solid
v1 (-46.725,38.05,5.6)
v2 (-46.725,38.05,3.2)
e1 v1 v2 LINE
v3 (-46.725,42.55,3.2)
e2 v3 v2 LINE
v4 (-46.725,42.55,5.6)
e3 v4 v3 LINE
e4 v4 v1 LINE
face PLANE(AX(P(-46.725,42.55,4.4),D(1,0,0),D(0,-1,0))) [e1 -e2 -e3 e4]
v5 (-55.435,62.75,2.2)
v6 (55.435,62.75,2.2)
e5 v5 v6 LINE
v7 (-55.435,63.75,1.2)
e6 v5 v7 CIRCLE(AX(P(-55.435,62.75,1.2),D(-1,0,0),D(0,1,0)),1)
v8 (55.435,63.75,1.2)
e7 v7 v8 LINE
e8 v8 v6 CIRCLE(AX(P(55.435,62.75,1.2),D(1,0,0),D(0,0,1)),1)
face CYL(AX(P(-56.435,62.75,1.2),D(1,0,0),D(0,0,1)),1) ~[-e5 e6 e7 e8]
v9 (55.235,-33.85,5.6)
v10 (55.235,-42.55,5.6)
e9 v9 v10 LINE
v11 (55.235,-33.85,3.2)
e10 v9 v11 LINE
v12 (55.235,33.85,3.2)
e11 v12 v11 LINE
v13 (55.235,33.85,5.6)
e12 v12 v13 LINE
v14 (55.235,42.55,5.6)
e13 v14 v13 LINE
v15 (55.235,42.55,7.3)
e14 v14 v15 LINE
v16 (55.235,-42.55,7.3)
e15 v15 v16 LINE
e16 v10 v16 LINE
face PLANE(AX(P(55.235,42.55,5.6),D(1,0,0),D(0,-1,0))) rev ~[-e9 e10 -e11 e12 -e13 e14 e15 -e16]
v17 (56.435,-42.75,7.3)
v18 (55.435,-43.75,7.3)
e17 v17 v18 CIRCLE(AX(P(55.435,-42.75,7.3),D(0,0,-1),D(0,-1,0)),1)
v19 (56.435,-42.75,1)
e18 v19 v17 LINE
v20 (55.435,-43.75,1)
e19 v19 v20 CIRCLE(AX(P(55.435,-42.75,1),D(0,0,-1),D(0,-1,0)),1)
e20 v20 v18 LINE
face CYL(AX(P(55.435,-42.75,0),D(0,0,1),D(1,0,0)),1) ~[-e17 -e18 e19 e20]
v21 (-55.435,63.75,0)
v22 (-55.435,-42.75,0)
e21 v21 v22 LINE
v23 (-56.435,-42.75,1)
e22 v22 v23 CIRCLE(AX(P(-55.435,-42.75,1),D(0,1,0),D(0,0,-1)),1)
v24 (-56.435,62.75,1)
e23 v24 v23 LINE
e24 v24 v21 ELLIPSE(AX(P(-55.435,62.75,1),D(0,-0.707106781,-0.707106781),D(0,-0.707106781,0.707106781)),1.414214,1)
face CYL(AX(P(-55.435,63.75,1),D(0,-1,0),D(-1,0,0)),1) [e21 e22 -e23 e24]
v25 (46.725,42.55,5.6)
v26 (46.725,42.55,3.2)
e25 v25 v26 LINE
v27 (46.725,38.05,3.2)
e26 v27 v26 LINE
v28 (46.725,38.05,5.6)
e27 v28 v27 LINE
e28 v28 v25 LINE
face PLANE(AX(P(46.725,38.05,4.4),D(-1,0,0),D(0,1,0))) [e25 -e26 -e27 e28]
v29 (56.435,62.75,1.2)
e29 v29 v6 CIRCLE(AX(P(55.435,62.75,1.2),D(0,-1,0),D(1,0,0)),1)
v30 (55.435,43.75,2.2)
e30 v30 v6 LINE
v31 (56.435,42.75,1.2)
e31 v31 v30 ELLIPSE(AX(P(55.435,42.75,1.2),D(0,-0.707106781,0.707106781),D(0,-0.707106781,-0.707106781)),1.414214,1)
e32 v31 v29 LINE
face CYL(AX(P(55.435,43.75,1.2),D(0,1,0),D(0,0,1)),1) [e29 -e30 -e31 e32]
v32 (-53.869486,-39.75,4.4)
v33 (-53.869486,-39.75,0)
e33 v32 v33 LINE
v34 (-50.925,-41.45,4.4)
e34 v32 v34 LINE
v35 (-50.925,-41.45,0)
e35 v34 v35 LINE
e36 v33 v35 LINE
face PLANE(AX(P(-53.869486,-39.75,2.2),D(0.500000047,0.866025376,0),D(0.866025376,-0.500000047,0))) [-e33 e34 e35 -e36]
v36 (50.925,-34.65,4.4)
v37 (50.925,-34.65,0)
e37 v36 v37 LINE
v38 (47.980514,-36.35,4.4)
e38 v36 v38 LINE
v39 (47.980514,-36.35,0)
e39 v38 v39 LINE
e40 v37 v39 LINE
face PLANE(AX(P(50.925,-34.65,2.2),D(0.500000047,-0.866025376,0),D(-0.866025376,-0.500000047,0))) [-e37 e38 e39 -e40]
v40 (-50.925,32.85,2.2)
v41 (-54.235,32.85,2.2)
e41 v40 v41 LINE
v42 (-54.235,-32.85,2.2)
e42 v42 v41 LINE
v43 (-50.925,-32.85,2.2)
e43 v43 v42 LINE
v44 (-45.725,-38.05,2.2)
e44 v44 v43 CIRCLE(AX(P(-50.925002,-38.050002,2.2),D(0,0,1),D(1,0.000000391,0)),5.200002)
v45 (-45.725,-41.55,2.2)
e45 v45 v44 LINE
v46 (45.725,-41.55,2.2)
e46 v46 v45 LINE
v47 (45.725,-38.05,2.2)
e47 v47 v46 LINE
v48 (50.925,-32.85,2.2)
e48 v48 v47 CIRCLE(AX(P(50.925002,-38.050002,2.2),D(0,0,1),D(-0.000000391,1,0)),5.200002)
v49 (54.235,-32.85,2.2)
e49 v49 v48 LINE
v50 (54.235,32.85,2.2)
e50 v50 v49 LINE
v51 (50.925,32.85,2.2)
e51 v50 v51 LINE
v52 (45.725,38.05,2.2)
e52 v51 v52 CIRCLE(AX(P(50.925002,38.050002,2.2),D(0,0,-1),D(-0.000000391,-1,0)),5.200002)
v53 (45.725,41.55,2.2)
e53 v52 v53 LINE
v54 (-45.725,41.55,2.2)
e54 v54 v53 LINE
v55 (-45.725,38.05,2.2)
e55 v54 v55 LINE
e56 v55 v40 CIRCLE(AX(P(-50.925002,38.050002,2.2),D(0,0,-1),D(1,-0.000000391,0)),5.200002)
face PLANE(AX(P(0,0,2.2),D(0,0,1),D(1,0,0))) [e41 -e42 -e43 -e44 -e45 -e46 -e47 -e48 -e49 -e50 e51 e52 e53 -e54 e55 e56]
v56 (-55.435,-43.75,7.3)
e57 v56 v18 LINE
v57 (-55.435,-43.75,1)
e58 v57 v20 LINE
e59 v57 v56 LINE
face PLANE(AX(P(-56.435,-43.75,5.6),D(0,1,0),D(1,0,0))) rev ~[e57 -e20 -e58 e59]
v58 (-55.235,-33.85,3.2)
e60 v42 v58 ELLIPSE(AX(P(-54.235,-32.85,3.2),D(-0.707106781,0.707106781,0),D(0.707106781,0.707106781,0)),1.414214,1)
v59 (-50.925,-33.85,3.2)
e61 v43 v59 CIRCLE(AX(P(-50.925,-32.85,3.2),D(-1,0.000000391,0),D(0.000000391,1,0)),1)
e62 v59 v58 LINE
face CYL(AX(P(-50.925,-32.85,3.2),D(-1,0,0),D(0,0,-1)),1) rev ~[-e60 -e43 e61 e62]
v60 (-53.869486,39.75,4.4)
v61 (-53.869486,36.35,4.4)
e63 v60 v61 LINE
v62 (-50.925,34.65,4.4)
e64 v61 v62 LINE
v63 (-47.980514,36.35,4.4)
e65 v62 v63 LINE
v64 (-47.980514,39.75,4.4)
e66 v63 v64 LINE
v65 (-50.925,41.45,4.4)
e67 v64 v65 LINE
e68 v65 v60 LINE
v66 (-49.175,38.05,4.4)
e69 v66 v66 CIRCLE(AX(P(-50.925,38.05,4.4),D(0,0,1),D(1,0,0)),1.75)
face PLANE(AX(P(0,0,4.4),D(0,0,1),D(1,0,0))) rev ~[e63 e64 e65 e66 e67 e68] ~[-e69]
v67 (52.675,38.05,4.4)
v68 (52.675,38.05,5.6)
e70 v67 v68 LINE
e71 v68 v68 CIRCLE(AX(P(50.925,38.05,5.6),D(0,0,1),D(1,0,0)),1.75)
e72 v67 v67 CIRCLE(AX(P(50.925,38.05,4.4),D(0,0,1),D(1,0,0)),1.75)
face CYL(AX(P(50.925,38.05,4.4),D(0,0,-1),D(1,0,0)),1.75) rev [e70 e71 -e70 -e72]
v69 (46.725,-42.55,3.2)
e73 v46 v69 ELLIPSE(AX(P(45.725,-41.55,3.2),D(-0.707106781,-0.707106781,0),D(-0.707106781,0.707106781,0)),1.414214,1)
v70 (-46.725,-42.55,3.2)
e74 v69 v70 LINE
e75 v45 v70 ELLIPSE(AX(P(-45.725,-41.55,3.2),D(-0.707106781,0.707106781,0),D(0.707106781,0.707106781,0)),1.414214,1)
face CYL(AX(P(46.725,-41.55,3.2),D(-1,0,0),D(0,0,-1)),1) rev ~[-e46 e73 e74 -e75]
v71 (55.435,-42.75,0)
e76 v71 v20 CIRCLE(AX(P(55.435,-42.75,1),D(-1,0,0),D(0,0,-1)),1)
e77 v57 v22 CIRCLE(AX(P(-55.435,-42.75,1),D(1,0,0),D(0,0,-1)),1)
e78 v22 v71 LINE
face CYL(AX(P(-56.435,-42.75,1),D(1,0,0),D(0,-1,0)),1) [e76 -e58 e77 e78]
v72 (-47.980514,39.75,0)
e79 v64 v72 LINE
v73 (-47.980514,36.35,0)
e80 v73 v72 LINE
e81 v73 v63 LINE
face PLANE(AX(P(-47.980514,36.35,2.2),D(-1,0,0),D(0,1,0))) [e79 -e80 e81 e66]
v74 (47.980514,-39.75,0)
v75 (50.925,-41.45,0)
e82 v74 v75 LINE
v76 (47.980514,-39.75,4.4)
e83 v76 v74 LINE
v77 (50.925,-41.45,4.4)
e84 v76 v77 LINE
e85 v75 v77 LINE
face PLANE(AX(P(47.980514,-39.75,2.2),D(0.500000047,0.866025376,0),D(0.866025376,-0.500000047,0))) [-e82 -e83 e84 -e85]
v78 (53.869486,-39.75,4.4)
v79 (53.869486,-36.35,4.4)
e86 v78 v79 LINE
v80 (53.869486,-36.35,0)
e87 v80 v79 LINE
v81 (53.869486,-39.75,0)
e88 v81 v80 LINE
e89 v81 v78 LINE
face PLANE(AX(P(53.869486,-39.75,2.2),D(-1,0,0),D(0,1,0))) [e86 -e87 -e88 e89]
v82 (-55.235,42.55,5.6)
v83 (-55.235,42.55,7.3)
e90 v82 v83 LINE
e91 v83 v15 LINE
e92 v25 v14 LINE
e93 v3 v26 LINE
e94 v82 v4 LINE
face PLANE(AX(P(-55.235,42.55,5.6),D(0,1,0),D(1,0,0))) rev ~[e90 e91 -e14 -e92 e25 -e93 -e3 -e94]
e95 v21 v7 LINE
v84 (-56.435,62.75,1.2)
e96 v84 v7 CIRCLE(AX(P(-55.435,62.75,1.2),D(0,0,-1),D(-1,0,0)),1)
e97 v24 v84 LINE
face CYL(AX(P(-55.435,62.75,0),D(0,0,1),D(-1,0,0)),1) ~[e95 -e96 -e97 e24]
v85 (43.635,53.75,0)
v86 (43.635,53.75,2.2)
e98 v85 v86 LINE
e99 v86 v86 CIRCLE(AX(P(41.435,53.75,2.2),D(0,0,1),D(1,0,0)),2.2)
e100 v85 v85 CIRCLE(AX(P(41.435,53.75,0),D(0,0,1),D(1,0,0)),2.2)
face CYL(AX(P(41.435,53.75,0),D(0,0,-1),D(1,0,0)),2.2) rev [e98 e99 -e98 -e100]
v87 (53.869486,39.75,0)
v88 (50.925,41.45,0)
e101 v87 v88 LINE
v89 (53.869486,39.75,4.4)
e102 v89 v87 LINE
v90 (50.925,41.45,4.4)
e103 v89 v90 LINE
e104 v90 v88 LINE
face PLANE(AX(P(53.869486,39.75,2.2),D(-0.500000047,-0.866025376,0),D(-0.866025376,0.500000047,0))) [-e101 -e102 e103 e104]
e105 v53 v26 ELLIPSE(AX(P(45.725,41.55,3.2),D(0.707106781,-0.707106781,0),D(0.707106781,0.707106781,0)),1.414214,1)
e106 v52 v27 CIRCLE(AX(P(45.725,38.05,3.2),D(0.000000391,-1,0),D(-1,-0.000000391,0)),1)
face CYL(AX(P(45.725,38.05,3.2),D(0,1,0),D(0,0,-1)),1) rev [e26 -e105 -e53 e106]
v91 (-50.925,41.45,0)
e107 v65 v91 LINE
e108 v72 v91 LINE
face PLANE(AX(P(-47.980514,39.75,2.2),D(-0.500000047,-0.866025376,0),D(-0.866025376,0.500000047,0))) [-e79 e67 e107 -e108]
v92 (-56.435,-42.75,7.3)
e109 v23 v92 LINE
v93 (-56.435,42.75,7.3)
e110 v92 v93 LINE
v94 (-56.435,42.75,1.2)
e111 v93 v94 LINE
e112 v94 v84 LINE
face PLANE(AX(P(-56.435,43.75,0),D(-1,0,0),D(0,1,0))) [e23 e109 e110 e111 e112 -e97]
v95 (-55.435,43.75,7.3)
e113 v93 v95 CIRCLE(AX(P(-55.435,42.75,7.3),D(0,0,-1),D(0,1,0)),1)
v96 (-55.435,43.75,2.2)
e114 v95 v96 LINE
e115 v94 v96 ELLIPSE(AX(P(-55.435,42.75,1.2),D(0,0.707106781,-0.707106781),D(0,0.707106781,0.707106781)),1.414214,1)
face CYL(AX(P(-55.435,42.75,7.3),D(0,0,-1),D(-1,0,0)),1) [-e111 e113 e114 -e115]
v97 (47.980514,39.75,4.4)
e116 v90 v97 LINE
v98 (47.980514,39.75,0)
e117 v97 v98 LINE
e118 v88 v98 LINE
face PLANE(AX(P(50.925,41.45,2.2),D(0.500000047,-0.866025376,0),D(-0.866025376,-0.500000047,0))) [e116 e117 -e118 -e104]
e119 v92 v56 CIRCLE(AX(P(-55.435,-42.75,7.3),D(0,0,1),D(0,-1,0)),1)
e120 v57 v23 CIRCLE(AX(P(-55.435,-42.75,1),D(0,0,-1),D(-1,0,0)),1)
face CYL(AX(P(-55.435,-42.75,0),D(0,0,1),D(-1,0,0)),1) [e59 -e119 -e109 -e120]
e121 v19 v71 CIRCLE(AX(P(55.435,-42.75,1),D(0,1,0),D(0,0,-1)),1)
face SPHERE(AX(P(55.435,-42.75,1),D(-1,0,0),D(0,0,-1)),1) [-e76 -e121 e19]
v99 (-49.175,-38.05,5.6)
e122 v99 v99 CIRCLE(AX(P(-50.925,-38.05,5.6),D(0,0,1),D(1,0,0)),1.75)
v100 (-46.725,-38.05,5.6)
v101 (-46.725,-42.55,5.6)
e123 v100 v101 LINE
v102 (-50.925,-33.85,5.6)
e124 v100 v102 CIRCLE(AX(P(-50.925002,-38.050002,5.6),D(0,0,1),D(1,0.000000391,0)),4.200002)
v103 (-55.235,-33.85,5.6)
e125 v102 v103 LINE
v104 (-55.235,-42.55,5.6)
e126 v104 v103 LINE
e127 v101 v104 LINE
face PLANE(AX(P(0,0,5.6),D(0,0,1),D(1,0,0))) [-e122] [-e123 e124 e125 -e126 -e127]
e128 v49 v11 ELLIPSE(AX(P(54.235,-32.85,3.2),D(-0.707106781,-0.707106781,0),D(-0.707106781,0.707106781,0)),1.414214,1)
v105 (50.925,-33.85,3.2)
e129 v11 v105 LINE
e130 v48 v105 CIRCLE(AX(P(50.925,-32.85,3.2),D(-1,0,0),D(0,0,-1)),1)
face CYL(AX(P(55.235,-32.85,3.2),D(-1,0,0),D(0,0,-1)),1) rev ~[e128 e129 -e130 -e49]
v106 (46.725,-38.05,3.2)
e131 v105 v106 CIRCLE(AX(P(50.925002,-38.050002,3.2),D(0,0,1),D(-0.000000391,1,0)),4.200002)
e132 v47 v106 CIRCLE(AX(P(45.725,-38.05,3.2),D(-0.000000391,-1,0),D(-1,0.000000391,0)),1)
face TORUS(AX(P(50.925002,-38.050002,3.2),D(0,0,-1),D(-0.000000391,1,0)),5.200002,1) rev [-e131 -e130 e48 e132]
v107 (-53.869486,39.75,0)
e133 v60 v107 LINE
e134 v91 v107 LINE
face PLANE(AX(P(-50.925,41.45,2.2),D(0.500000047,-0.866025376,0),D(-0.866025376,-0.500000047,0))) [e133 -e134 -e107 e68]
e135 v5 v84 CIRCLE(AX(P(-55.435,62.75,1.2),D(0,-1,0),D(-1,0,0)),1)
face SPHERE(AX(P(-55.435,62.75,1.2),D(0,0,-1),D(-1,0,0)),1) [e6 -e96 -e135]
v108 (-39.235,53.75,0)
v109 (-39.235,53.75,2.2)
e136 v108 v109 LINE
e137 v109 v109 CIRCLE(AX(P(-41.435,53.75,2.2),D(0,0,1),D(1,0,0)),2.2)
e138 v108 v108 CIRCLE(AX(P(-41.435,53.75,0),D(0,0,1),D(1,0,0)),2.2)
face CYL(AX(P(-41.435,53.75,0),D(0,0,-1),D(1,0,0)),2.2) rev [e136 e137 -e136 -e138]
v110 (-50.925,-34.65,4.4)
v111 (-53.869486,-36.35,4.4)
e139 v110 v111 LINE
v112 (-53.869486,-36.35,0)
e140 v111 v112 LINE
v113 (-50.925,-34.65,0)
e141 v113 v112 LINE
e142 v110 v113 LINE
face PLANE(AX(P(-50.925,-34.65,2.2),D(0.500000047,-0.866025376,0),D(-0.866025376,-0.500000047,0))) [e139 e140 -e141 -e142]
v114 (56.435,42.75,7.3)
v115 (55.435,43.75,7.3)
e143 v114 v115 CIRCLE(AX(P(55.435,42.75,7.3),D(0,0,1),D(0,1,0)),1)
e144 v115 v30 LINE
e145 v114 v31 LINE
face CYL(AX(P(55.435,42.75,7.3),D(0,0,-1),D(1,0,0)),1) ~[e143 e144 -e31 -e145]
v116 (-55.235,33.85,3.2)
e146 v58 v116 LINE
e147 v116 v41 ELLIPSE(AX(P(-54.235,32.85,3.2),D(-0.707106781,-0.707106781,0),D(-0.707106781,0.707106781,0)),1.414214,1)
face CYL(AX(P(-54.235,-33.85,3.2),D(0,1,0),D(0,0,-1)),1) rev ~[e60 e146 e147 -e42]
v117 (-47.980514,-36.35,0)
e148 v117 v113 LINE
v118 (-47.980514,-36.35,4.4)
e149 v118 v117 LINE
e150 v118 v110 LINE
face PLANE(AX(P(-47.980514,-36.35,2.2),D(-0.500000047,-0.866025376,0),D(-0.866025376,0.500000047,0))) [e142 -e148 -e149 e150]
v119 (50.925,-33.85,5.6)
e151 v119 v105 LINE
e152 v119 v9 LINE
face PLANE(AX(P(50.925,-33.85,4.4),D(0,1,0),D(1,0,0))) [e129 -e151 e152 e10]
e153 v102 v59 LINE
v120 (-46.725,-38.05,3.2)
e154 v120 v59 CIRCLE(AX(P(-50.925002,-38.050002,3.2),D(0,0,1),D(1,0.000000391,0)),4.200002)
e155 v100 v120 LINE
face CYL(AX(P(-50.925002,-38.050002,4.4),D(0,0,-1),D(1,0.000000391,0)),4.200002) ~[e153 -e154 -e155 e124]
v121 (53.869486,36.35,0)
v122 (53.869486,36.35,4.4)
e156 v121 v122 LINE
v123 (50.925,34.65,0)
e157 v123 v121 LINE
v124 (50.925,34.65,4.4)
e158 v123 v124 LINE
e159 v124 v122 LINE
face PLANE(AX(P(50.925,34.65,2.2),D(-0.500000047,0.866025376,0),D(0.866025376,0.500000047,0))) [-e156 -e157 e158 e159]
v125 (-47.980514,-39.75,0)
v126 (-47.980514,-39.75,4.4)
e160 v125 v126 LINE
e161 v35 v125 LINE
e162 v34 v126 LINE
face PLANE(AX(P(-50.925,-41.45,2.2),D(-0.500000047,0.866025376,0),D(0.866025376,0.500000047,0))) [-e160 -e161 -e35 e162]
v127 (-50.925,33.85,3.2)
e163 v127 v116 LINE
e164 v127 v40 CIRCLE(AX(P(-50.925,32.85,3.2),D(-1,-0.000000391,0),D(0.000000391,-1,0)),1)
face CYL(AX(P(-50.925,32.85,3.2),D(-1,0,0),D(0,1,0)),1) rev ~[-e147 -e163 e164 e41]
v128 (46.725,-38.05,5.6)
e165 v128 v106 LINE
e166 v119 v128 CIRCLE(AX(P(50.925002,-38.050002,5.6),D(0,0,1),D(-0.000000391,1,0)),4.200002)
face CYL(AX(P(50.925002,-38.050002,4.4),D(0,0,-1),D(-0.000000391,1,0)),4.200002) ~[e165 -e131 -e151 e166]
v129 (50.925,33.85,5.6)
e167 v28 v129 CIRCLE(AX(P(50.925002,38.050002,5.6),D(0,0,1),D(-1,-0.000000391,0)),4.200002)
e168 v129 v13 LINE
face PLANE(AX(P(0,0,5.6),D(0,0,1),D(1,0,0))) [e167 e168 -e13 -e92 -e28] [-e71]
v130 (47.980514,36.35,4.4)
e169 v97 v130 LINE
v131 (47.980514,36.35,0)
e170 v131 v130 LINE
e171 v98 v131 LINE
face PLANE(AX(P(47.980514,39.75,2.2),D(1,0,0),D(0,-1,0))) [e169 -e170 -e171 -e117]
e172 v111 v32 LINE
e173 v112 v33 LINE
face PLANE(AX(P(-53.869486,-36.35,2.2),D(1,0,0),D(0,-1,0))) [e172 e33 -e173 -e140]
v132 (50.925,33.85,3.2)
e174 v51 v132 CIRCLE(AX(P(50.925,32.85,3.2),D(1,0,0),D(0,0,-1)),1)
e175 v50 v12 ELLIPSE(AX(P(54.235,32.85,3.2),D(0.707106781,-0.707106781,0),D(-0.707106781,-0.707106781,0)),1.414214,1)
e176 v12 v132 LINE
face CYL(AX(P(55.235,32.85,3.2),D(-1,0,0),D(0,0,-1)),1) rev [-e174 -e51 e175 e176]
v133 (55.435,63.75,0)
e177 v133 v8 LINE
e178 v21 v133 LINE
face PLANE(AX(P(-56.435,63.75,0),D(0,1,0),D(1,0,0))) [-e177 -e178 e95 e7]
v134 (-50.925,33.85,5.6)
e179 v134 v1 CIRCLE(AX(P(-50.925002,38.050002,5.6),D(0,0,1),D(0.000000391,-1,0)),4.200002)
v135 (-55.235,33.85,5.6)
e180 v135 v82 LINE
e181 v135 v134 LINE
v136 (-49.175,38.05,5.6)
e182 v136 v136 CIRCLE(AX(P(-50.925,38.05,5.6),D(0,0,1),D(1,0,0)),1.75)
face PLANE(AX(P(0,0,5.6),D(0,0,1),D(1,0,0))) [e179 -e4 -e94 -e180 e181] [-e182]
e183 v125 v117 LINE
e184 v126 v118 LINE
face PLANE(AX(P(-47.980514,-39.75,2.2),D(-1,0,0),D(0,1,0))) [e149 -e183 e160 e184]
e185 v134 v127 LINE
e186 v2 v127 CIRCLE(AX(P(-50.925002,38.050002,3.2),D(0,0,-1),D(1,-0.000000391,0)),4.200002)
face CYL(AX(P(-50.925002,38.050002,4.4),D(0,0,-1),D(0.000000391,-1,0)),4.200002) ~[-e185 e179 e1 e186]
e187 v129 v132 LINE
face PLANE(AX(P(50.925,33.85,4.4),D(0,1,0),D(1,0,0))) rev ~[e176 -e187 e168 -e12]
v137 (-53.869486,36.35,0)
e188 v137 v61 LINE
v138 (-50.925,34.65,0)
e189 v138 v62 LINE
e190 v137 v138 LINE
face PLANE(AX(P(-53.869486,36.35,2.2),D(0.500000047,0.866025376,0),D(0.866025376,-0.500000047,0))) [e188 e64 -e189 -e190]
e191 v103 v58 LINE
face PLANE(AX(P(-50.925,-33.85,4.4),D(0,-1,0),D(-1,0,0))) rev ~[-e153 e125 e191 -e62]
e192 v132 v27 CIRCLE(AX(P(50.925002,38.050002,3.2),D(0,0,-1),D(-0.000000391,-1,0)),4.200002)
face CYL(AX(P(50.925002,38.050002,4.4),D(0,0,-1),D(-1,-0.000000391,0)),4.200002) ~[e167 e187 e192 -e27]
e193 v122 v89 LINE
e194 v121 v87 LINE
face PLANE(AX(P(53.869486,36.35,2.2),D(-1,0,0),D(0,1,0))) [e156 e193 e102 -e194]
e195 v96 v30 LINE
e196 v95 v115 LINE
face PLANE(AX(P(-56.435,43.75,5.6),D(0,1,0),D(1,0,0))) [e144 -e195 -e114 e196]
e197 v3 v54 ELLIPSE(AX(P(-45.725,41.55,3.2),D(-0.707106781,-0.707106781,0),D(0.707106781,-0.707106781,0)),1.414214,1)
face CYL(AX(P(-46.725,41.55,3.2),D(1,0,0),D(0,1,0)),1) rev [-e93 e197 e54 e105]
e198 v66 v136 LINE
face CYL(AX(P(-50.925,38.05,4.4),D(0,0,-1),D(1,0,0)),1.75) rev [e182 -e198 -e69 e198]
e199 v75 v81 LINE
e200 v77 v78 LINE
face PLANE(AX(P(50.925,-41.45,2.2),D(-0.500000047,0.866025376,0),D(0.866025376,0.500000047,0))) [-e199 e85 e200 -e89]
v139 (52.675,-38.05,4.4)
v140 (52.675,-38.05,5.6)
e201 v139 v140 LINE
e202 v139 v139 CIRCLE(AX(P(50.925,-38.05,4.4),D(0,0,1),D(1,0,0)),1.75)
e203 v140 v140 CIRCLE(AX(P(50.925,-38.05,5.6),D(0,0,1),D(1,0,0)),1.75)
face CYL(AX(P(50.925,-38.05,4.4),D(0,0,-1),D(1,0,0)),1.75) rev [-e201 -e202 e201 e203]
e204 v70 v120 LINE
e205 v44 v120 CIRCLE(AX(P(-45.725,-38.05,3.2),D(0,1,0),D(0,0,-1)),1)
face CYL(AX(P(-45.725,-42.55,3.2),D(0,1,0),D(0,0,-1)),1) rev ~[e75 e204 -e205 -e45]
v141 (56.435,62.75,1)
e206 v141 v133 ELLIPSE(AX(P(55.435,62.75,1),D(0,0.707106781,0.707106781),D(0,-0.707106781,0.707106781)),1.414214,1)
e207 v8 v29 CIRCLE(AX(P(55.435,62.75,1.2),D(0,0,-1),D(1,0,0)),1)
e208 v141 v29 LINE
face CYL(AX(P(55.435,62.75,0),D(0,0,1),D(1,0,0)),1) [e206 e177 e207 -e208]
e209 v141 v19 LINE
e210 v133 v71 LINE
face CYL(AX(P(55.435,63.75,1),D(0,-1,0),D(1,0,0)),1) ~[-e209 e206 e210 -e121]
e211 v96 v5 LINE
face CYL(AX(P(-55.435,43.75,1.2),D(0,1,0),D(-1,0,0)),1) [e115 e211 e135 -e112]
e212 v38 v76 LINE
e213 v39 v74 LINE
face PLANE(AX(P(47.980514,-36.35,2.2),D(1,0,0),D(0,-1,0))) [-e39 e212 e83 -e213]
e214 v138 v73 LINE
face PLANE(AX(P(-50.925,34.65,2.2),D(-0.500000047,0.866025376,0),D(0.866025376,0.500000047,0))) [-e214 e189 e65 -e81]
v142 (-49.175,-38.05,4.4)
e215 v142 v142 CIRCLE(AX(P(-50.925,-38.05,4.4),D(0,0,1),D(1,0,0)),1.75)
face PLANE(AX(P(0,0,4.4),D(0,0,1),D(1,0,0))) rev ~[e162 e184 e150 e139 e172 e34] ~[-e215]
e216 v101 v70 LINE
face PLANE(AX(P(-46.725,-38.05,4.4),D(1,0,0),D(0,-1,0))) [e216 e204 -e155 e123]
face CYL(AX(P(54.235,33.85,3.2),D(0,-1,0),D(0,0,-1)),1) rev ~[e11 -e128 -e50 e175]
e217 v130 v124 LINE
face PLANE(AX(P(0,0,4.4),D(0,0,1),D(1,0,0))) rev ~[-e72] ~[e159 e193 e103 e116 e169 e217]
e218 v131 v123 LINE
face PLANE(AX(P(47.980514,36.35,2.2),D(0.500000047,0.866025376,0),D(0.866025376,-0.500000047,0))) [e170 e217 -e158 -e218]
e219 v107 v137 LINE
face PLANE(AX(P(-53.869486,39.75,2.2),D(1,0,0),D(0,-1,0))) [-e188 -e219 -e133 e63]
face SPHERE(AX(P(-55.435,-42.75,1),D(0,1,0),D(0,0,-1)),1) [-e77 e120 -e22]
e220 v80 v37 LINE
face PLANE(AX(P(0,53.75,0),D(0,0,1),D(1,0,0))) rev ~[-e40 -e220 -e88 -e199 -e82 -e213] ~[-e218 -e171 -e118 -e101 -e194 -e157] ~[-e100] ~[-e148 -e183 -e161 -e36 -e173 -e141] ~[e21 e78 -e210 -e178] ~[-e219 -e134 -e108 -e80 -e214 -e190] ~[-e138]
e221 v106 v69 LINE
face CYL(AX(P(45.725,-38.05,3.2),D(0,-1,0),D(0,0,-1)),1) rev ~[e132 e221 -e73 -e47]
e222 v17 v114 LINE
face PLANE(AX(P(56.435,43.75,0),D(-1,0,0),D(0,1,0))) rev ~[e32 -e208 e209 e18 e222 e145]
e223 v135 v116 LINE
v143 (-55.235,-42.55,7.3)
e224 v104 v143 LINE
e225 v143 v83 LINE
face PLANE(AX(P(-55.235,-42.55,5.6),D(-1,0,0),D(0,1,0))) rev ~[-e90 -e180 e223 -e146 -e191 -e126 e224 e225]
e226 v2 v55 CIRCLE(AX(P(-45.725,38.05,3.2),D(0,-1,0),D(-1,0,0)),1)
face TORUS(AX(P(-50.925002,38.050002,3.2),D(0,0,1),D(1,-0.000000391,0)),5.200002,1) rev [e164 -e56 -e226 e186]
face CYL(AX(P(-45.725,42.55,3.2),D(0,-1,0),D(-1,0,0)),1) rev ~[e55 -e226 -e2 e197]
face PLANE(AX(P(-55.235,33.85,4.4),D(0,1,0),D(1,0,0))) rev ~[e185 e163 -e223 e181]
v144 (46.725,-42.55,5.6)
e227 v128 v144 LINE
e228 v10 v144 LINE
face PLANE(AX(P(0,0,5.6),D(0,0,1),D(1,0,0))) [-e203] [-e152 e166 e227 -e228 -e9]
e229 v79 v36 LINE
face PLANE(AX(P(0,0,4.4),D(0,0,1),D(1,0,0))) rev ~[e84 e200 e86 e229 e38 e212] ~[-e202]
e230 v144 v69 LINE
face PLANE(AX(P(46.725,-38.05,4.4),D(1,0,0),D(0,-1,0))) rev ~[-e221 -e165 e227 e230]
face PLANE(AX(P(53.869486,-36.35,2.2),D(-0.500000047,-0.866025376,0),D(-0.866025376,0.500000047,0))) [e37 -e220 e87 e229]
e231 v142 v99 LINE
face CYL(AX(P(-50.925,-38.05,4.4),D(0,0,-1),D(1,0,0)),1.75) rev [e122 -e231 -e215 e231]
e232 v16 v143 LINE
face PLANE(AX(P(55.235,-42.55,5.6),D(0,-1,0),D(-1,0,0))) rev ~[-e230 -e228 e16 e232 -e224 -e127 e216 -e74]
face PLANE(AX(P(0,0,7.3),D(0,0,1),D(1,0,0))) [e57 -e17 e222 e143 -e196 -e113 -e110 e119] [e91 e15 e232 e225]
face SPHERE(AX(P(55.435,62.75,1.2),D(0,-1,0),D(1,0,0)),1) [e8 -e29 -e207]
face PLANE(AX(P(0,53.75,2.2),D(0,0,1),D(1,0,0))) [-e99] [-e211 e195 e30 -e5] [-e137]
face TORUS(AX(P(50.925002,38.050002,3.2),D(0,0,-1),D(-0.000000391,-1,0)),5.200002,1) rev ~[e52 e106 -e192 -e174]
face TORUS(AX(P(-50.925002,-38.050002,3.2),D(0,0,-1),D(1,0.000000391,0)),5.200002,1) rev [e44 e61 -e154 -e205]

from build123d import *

# Parameters (mm, degrees)
SKETCH005_W  = 112.87
SKETCH005_H  = 87.5
PAD_DEPTH    = 2.2
SKETCH006_W  = 112.87
SKETCH006_H  = 87.5
PAD001_DEPTH = 2.2
SKETCH007_W  = 112.87
SKETCH007_H  = 87.5
SKETCH007_R  = 1.75
PAD002_DEPTH = 1.2
SKETCH008_W  = 112.87
SKETCH008_H  = 87.5
PAD003_DEPTH = 1.7
SKETCH010_W  = 112.87
SKETCH010_H  = 20
SKETCH010_R  = 2.2
PAD004_DEPTH = 2.2
FILLET_R     = 1


with BuildPart() as part:
    # Sketch005 → Pad (new body)
    with BuildSketch(Plane.XY):
        Rectangle(SKETCH005_W, SKETCH005_H)
        Polygon((-47.980514, 36.35), (-47.980514, 39.75), (-50.925, 41.45), (-53.869486, 39.75), (-53.869486, 36.35), (-50.925, 34.65), align=None, mode=Mode.SUBTRACT)
        Polygon((53.869486, 36.35), (53.869486, 39.75), (50.925, 41.45), (47.980514, 39.75), (47.980514, 36.35), (50.925, 34.65), align=None, mode=Mode.SUBTRACT)
        Polygon((53.869486, -36.35), (50.925, -34.65), (47.980514, -36.35), (47.980514, -39.75), (50.925, -41.45), (53.869486, -39.75), align=None, mode=Mode.SUBTRACT)
        Polygon((-47.980514, -39.75), (-47.980514, -36.35), (-50.925, -34.65), (-53.869486, -36.35), (-53.869486, -39.75), (-50.925, -41.45), align=None, mode=Mode.SUBTRACT)
    extrude(amount=PAD_DEPTH)

    # Sketch006 → Pad001 (join)
    with BuildSketch(Plane.XY.offset(2.2)):
        Rectangle(SKETCH006_W, SKETCH006_H)
        with BuildLine():
            Line((55.235, 33.85), (55.235, -33.85))
            Line((50.925, -33.85), (55.235, -33.85))
            ThreePointArc((50.925, -33.85), (47.955152, -35.080152), (46.725, -38.05))
            Line((46.725, -38.05), (46.725, -42.55))
            Line((46.725, -42.55), (-46.725, -42.55))
            Line((-46.725, -38.05), (-46.725, -42.55))
            ThreePointArc((-46.725, -38.05), (-47.955152, -35.080152), (-50.925, -33.85))
            Line((-50.925, -33.85), (-55.235, -33.85))
            Line((-55.235, -33.85), (-55.235, 33.85))
            Line((-55.235, 33.85), (-50.925, 33.85))
            ThreePointArc((-50.925, 33.85), (-47.955152, 35.080152), (-46.725, 38.05))
            Line((-46.725, 42.55), (-46.725, 38.05))
            Line((-46.725, 42.55), (46.725, 42.55))
            Line((46.725, 38.05), (46.725, 42.55))
            ThreePointArc((46.725, 38.05), (47.955152, 35.080152), (50.925, 33.85))
            Line((50.925, 33.85), (55.235, 33.85))
        make_face(mode=Mode.SUBTRACT)
        Polygon((-47.980514, 36.35), (-47.980514, 39.75), (-50.925, 41.45), (-53.869486, 39.75), (-53.869486, 36.35), (-50.925, 34.65), align=None, mode=Mode.SUBTRACT)
        Polygon((53.869486, 36.35), (53.869486, 39.75), (50.925, 41.45), (47.980514, 39.75), (47.980514, 36.35), (50.925, 34.65), align=None, mode=Mode.SUBTRACT)
        Polygon((53.869486, -36.35), (50.925, -34.65), (47.980514, -36.35), (47.980514, -39.75), (50.925, -41.45), (53.869486, -39.75), align=None, mode=Mode.SUBTRACT)
        Polygon((-47.980514, -39.75), (-47.980514, -36.35), (-50.925, -34.65), (-53.869486, -36.35), (-53.869486, -39.75), (-50.925, -41.45), align=None, mode=Mode.SUBTRACT)
    extrude(amount=PAD001_DEPTH)

    # Sketch007 → Pad002 (join)
    with BuildSketch(Plane.XY.offset(4.4)):
        Rectangle(SKETCH007_W, SKETCH007_H)
        with Locations((-50.925, 38.05)):
            Circle(SKETCH007_R, mode=Mode.SUBTRACT)
        with Locations((50.925, 38.05)):
            Circle(SKETCH007_R, mode=Mode.SUBTRACT)
        with Locations((50.925, -38.05)):
            Circle(SKETCH007_R, mode=Mode.SUBTRACT)
        with Locations((-50.925, -38.05)):
            Circle(SKETCH007_R, mode=Mode.SUBTRACT)
        with BuildLine():
            Line((55.235, 33.85), (55.235, -33.85))
            Line((50.925, -33.85), (55.235, -33.85))
            ThreePointArc((50.925, -33.85), (47.955152, -35.080152), (46.725, -38.05))
            Line((46.725, -38.05), (46.725, -42.55))
            Line((46.725, -42.55), (-46.725, -42.55))
            Line((-46.725, -38.05), (-46.725, -42.55))
            ThreePointArc((-46.725, -38.05), (-47.955152, -35.080152), (-50.925, -33.85))
            Line((-50.925, -33.85), (-55.235, -33.85))
            Line((-55.235, -33.85), (-55.235, 33.85))
            Line((-55.235, 33.85), (-50.925, 33.85))
            ThreePointArc((-50.925, 33.85), (-47.955152, 35.080152), (-46.725, 38.05))
            Line((-46.725, 42.55), (-46.725, 38.05))
            Line((-46.725, 42.55), (46.725, 42.55))
            Line((46.725, 38.05), (46.725, 42.55))
            ThreePointArc((46.725, 38.05), (47.955152, 35.080152), (50.925, 33.85))
            Line((50.925, 33.85), (55.235, 33.85))
        make_face(mode=Mode.SUBTRACT)
    extrude(amount=PAD002_DEPTH)

    # Sketch008 → Pad003 (join)
    with BuildSketch(Plane.XY.offset(5.6)):
        Rectangle(SKETCH008_W, SKETCH008_H)
        Polygon((55.235, 33.85), (55.235, -33.85), (55.235, -42.55), (46.725, -42.55), (-46.725, -42.55), (-55.235, -42.55), (-55.235, -33.85), (-55.235, 33.85), (-55.235, 42.55), (-46.725, 42.55), (46.725, 42.55), (55.235, 42.55), align=None, mode=Mode.SUBTRACT)
    extrude(amount=PAD003_DEPTH)

    # Sketch010 → Pad004 (join)
    with BuildSketch(Plane.XY):
        with Locations((0, 53.75)):
            Rectangle(SKETCH010_W, SKETCH010_H)
        with Locations((-41.435, 53.75)):
            Circle(SKETCH010_R, mode=Mode.SUBTRACT)
        with Locations((41.435, 53.75)):
            Circle(SKETCH010_R, mode=Mode.SUBTRACT)
    extrude(amount=PAD004_DEPTH)

    # Fillet
    fillet_edges = [part.edges().sort_by_distance(p)[0] for p in [
        (-56.435, 10, 0),
        (46.725, 40.3, 2.2),
        (0, 42.55, 2.2),
        (-46.725, 40.3, 2.2),
        (-47.955152, 35.080152, 2.2),
        (-53.08, 33.85, 2.2),
        (-55.235, 0, 2.2),
        (-53.08, -33.85, 2.2),
        (-47.955152, -35.080152, 2.2),
        (-46.725, -40.3, 2.2),
        (0, -42.55, 2.2),
        (46.725, -40.3, 2.2),
        (47.955152, -35.080152, 2.2),
        (53.08, -33.85, 2.2),
        (55.235, 0, 2.2),
        (53.08, 33.85, 2.2),
        (47.955152, 35.080152, 2.2),
        (0, -43.75, 0),
        (56.435, 10, 0),
        (56.435, -43.75, 3.65),
        (56.435, 43.75, 4.75),
        (56.435, 53.75, 2.2),
        (56.435, 63.75, 1.1),
        (-56.435, 63.75, 1.1),
        (-56.435, 53.75, 2.2),
        (0, 63.75, 2.2),
        (-56.435, 43.75, 4.75),
        (-56.435, -43.75, 3.65),
    ]]
    fillet(fillet_edges, radius=FILLET_R)


solid = part.part
